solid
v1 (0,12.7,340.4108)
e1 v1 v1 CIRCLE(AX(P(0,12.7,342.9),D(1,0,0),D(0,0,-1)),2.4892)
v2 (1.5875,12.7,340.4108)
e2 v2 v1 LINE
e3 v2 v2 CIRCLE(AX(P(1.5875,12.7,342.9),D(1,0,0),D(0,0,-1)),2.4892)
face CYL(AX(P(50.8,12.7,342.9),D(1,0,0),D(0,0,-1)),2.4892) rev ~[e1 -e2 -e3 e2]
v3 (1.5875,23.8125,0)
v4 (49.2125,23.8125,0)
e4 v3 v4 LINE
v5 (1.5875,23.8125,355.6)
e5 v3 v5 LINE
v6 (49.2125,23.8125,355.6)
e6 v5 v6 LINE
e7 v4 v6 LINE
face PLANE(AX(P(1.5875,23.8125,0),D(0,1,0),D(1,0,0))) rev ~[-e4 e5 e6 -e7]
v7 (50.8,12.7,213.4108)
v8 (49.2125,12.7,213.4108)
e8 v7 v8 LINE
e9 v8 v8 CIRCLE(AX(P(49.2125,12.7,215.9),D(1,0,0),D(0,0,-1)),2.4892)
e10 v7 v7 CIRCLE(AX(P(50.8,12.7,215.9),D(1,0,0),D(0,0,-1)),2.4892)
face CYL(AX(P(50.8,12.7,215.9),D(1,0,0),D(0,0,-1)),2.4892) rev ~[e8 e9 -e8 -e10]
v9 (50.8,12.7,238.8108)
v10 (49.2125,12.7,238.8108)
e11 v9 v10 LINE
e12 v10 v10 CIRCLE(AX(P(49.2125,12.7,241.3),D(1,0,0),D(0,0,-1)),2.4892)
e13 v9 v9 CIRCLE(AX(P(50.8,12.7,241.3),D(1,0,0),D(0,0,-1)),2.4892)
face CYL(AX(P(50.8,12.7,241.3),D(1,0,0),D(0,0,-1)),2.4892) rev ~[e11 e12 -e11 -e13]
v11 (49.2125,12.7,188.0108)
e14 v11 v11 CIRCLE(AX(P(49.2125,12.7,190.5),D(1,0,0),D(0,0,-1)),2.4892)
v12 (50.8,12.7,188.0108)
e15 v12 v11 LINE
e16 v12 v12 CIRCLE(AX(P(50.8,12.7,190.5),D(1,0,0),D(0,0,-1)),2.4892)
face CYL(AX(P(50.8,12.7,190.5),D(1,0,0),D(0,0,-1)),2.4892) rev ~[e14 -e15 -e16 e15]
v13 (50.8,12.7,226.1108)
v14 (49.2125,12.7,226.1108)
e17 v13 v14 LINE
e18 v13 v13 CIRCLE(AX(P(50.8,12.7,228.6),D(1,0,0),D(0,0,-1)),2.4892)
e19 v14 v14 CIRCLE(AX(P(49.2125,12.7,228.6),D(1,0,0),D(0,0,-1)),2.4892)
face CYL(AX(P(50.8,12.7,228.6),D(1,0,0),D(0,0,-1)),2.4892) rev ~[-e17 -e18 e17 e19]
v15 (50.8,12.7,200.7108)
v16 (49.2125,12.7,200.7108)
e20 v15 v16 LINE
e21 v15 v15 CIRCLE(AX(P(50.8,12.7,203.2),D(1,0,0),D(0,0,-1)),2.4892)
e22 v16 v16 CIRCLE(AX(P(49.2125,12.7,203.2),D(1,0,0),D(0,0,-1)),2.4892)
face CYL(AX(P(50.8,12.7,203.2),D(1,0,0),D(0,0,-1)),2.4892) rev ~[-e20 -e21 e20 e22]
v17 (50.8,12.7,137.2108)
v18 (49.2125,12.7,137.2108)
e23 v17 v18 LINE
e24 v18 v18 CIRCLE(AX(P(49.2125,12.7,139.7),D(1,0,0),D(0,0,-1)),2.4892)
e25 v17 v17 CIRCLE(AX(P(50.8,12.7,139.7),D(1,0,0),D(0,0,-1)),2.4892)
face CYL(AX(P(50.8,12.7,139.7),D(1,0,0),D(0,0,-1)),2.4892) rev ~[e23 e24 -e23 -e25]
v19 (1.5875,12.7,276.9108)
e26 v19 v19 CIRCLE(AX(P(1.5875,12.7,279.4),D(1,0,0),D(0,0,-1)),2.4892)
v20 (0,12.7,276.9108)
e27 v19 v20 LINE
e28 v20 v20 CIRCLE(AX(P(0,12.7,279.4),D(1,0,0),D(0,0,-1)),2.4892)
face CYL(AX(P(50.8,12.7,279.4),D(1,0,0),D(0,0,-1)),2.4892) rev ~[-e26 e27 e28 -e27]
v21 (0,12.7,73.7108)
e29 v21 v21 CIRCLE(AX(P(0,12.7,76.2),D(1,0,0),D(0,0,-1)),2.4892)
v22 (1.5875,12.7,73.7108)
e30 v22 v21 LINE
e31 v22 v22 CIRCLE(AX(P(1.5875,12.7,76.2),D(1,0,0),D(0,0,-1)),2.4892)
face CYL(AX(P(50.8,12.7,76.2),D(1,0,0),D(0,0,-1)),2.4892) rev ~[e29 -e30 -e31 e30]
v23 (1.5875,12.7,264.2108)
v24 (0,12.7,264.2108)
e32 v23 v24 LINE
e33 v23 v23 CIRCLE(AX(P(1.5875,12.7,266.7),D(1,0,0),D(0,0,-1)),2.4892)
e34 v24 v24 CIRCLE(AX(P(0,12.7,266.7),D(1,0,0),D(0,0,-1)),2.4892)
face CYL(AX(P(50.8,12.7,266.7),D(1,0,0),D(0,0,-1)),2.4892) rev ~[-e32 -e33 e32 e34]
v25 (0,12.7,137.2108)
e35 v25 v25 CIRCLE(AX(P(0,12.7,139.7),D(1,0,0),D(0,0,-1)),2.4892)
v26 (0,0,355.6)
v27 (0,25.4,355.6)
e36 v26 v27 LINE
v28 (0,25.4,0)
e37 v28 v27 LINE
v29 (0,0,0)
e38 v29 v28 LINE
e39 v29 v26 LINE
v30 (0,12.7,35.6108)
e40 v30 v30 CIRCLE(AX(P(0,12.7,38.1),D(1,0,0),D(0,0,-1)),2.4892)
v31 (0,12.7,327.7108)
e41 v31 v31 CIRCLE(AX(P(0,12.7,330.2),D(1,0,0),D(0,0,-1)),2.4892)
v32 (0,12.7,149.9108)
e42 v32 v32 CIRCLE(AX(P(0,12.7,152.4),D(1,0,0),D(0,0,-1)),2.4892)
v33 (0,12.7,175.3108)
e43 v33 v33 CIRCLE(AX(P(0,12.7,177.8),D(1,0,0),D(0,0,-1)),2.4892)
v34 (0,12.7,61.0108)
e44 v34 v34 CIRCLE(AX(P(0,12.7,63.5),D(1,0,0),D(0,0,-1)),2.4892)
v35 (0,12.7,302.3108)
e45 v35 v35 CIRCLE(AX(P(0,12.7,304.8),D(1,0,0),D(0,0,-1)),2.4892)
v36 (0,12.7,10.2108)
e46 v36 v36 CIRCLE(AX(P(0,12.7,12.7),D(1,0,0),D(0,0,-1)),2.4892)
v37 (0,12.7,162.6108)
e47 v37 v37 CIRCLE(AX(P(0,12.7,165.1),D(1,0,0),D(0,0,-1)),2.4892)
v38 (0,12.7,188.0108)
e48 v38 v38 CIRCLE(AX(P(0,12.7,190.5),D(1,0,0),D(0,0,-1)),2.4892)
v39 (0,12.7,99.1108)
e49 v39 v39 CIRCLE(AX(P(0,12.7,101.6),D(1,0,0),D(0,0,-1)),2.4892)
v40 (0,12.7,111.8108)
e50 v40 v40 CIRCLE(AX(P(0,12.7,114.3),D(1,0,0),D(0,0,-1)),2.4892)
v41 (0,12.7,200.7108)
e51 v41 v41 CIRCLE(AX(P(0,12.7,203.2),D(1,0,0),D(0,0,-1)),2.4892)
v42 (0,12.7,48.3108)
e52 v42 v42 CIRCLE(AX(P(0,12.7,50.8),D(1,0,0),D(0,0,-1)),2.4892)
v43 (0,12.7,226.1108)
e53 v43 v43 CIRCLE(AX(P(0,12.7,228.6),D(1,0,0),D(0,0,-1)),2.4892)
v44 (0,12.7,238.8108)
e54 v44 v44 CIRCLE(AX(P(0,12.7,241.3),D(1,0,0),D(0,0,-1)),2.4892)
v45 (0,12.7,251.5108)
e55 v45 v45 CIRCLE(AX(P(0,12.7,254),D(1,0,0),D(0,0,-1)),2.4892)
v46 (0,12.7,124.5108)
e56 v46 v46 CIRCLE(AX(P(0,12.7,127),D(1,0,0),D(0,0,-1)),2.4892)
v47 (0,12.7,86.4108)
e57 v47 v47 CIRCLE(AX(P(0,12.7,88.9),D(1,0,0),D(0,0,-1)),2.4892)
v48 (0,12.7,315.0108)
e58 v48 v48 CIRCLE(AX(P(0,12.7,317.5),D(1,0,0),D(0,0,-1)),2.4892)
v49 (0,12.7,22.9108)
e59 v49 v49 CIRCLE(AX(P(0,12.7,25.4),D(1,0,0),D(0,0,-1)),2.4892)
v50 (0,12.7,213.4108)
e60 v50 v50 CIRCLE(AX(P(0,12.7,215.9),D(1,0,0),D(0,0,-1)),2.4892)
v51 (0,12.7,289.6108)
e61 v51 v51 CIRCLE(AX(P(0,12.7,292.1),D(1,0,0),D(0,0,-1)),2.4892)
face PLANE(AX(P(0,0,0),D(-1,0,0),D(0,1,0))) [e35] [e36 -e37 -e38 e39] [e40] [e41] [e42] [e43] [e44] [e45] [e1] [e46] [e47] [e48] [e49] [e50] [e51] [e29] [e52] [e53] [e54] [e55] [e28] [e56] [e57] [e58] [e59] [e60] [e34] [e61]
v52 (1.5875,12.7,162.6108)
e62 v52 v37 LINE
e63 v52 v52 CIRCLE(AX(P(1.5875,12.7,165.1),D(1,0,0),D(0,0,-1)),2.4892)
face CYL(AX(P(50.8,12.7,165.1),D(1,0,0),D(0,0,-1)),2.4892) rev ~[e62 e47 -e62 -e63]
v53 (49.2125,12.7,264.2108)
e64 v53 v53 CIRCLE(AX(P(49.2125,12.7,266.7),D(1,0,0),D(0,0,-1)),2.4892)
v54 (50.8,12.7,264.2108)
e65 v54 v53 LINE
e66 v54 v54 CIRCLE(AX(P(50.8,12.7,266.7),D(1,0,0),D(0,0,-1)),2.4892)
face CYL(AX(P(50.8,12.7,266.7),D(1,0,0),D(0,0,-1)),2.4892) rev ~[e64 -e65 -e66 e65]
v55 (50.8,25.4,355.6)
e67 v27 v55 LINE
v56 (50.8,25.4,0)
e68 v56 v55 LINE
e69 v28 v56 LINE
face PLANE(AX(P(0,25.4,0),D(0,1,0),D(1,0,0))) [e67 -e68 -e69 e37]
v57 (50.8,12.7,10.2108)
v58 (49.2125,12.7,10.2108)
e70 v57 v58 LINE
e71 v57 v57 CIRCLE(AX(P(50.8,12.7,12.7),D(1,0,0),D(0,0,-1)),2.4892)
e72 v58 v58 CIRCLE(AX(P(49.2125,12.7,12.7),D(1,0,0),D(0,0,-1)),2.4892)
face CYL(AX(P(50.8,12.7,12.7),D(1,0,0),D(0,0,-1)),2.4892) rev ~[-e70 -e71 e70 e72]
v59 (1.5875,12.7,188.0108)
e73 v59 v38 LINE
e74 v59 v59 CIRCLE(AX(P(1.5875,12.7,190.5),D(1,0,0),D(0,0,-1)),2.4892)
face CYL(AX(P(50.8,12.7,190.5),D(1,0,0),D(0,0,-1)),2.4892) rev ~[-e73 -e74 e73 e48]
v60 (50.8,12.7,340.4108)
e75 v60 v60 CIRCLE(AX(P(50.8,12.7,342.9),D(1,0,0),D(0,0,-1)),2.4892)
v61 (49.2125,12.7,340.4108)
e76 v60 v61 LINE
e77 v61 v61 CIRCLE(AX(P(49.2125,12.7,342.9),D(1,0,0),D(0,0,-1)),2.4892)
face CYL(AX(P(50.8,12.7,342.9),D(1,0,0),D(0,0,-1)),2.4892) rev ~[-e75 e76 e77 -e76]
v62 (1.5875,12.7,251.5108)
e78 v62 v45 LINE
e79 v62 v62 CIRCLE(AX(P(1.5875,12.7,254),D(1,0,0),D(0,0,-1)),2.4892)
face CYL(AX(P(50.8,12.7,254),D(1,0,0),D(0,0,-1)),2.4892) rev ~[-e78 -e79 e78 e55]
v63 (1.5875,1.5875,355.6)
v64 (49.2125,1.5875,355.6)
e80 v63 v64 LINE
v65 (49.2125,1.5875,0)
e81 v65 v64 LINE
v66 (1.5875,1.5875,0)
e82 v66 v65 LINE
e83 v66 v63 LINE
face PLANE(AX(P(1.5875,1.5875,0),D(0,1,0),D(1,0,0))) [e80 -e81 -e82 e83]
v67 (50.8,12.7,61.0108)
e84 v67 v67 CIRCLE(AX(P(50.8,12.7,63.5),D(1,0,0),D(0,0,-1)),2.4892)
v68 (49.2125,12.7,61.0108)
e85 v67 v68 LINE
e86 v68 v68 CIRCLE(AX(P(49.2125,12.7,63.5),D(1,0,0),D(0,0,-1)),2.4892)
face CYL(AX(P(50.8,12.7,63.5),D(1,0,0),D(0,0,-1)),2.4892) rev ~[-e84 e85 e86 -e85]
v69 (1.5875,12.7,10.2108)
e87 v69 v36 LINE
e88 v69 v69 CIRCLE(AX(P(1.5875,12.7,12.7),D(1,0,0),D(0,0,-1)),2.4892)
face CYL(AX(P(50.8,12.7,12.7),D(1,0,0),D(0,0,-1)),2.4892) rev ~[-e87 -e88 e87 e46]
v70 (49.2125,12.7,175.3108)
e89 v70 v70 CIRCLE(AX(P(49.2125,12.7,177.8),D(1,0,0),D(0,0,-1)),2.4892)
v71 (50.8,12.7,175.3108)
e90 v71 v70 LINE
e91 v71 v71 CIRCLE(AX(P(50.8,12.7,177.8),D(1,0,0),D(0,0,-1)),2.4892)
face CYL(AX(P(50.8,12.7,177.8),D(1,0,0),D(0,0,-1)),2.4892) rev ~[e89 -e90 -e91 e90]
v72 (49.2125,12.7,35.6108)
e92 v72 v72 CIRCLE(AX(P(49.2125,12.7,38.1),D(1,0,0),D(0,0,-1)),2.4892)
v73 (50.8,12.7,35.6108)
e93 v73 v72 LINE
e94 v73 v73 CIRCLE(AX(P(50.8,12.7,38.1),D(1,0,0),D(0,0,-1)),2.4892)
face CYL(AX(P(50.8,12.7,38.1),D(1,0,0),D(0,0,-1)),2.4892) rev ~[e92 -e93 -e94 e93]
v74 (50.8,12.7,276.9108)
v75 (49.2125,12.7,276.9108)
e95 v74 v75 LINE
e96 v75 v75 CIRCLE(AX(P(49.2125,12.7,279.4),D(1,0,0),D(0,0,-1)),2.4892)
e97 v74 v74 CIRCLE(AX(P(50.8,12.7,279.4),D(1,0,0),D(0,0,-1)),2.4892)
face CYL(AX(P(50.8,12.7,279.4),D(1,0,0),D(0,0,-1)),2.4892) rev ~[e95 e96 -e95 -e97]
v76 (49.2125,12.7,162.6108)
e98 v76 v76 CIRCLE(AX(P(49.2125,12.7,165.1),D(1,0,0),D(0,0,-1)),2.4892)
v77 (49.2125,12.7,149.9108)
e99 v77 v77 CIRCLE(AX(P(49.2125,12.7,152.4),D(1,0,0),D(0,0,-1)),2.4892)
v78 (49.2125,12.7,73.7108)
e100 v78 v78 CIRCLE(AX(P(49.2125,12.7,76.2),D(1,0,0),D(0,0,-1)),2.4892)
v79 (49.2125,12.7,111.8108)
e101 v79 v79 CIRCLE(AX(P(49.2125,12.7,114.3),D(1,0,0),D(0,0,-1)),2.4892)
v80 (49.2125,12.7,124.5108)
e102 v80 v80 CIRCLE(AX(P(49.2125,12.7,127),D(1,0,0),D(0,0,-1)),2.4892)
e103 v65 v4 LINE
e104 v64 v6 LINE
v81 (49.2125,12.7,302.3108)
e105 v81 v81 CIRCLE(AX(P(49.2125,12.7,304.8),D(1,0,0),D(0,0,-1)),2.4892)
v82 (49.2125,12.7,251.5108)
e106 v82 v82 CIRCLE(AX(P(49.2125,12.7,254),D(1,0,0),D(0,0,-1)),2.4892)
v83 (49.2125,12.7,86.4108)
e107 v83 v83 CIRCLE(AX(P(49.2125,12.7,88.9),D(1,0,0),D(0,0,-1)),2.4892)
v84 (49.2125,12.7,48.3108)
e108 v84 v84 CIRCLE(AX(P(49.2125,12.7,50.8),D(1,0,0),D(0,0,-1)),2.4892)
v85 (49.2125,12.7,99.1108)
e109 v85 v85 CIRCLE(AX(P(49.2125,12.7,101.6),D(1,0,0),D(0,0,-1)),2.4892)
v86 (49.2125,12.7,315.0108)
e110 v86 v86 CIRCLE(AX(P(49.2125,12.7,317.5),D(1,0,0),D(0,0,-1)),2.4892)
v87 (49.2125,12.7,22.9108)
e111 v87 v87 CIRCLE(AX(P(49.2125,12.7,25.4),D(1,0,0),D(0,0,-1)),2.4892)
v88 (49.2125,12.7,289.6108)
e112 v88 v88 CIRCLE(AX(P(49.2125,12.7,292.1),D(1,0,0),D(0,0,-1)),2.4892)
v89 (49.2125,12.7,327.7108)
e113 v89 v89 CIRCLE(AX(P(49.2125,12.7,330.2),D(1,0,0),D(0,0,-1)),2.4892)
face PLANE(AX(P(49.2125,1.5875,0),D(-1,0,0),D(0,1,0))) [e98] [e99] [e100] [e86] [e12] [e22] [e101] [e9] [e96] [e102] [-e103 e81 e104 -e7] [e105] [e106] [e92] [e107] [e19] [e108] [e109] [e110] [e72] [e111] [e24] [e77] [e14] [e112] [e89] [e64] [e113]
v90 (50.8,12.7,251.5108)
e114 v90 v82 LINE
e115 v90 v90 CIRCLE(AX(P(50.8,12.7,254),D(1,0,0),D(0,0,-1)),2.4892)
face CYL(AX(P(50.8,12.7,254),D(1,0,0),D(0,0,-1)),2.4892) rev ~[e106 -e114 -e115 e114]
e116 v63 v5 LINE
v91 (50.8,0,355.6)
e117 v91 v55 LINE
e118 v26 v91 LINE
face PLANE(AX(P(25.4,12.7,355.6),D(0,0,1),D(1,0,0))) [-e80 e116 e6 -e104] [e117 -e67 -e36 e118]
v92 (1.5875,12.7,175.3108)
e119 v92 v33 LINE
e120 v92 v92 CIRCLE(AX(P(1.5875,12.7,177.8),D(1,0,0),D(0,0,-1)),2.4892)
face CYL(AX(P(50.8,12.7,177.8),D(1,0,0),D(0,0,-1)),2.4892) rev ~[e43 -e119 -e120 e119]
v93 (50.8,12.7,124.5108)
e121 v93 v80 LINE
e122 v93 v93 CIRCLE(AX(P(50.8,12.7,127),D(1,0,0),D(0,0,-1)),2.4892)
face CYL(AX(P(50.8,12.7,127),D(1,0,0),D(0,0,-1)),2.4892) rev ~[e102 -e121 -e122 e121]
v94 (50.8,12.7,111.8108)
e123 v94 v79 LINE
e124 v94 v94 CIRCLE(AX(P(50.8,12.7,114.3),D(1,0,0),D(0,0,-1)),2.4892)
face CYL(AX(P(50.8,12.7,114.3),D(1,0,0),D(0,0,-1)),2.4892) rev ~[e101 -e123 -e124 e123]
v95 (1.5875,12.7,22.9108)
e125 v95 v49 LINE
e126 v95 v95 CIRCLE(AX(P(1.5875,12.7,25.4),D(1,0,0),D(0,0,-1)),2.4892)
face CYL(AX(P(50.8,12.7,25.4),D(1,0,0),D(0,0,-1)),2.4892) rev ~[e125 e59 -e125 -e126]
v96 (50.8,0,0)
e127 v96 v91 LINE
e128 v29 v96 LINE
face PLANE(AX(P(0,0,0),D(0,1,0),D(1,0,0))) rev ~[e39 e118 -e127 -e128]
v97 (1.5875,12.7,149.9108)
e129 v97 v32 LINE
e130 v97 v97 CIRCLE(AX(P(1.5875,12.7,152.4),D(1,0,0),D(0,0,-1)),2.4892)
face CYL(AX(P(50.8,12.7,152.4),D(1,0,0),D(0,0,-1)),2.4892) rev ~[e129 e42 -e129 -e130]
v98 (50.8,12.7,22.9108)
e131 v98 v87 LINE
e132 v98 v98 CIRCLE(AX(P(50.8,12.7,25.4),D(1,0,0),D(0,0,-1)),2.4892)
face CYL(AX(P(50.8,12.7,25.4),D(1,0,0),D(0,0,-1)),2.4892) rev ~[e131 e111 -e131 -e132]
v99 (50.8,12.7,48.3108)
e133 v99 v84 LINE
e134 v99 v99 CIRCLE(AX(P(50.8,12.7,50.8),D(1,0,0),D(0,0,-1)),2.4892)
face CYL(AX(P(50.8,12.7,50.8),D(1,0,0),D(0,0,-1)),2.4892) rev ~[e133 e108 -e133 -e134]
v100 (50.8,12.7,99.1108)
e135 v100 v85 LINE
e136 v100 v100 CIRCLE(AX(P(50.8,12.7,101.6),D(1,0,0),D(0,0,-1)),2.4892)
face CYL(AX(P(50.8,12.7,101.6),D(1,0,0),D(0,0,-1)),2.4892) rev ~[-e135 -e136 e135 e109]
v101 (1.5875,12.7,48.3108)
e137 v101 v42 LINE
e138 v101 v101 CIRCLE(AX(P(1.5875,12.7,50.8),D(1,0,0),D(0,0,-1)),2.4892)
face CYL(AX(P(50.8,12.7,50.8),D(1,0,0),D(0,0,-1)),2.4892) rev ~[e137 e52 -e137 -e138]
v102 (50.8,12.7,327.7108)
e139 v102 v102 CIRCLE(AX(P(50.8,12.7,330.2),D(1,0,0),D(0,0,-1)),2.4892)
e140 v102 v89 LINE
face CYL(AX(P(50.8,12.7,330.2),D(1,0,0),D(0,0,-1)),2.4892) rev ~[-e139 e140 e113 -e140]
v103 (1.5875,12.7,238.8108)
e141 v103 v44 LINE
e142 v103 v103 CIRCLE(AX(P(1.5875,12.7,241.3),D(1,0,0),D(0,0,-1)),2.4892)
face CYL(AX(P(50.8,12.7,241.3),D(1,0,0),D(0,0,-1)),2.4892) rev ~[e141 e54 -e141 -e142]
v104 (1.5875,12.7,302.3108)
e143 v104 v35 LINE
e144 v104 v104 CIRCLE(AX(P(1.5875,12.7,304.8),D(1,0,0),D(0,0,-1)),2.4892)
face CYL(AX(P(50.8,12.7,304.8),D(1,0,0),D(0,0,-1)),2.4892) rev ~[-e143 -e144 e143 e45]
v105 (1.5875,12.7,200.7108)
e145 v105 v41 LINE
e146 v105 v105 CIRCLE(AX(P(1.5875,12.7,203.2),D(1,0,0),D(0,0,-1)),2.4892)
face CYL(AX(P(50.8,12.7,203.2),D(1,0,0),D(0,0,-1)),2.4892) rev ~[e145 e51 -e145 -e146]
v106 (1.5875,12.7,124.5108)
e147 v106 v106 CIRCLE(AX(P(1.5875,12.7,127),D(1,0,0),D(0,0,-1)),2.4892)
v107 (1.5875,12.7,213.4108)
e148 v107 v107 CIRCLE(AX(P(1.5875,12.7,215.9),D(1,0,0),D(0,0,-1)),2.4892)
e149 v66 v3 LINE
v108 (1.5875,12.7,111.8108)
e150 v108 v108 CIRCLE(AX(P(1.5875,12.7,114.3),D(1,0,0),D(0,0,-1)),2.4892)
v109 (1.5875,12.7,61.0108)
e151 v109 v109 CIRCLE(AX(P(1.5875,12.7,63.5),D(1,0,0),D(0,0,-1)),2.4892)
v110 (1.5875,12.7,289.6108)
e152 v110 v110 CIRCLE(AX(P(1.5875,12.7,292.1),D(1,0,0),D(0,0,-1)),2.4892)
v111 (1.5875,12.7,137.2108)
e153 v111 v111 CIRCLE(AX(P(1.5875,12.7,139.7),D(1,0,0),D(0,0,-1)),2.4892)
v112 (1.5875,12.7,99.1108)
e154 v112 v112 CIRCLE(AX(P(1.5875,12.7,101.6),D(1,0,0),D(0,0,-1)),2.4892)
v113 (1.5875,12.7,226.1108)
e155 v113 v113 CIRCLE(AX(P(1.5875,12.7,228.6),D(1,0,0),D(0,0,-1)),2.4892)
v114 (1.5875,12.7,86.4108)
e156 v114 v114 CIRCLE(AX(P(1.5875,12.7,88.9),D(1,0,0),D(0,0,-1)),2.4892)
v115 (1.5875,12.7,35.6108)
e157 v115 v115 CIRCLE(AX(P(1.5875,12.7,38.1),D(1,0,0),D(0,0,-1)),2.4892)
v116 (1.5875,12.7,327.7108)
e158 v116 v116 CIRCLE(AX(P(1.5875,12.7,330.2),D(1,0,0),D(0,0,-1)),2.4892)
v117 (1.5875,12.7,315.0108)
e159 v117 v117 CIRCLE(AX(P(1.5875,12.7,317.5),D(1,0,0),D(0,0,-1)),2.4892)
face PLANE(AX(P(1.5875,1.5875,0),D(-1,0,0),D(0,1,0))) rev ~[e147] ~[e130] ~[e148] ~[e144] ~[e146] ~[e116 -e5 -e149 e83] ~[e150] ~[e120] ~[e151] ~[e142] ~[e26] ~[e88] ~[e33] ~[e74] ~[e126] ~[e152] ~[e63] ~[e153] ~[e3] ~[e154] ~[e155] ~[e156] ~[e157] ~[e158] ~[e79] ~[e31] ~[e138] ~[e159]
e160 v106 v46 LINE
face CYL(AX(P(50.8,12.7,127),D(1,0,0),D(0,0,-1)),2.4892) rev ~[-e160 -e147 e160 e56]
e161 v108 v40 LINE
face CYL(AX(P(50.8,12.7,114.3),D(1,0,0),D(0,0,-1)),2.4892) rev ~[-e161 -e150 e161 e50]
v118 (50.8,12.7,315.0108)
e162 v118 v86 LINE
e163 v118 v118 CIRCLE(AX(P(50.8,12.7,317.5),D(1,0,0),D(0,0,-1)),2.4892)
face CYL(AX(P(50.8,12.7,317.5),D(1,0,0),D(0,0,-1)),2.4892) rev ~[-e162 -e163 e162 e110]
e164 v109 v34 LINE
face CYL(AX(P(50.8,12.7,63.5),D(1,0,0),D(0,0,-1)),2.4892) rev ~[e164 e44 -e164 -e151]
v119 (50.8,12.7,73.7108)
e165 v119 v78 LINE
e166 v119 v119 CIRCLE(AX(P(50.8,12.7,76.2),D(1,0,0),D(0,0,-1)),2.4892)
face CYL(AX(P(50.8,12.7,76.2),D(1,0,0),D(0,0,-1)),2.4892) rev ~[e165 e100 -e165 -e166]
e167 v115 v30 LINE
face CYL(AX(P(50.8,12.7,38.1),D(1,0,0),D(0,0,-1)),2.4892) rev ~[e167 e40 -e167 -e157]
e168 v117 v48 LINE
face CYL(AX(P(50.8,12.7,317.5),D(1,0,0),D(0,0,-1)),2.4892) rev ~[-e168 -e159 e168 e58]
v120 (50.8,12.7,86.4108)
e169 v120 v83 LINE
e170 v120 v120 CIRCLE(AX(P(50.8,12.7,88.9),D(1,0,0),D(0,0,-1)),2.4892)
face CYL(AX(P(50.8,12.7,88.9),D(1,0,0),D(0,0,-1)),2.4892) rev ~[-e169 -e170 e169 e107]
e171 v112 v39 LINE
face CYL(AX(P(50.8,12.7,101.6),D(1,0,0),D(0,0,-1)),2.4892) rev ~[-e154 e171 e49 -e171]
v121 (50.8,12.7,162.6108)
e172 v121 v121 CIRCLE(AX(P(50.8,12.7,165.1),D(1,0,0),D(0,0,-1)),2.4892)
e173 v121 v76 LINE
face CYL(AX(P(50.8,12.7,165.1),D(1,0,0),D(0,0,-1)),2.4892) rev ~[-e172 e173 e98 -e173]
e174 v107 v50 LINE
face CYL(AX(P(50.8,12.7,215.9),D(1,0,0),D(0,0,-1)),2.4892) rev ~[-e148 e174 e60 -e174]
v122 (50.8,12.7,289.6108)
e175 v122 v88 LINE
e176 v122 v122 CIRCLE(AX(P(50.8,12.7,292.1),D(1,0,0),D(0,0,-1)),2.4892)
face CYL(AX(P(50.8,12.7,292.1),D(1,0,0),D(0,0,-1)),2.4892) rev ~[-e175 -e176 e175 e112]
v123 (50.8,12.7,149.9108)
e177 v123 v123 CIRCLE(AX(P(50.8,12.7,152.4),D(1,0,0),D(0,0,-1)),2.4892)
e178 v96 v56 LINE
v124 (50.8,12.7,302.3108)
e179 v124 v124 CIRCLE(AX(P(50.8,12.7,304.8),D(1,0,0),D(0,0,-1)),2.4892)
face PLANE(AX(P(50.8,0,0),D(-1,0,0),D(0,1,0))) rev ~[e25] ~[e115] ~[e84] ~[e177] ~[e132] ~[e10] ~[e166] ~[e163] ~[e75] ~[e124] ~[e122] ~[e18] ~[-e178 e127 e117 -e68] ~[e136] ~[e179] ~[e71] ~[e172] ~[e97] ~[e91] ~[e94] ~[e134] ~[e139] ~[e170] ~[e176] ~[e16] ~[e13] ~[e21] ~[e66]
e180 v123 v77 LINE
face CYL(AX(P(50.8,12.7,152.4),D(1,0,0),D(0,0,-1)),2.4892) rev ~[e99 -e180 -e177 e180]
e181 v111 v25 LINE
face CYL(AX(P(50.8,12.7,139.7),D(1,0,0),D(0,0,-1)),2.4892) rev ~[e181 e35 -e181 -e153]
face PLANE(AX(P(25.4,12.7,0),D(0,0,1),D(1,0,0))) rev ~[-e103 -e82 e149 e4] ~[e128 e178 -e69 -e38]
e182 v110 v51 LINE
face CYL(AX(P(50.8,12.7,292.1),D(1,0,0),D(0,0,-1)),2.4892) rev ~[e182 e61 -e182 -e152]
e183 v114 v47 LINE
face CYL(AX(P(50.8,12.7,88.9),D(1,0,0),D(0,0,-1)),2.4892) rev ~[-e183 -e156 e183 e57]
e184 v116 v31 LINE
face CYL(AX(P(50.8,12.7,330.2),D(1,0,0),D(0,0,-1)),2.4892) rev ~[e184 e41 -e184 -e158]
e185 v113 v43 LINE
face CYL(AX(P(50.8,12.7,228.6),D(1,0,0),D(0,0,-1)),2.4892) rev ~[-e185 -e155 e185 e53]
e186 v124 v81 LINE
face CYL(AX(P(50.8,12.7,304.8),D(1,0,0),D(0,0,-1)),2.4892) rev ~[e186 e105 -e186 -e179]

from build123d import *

# Parameters (mm, degrees)
SKETCH1_W           = 50.8
SKETCH1_H           = 25.4
SKETCH1_W_2         = 47.625
SKETCH1_H_2         = 22.225
BOSS_EXTRUDE1_DEPTH = 355.6
SKETCH2_R           = 2.4892
CUT_EXTRUDE1_DEPTH  = 51.8


with BuildPart() as part:
    # Sketch1 → Boss-Extrude1 (new body)
    with BuildSketch(Plane.XY):
        with Locations((25.4, 12.7)):
            Rectangle(SKETCH1_W, SKETCH1_H)
        with Locations((25.4, 12.7)):
            Rectangle(SKETCH1_W_2, SKETCH1_H_2, mode=Mode.SUBTRACT)
    extrude(amount=BOSS_EXTRUDE1_DEPTH)

    # Sketch2 → Cut-Extrude1 (cut, through all)
    with BuildSketch(Plane(origin=(50.8, 0, 0), x_dir=(0, 0, -1), z_dir=(1, 0, 0))):
        with Locations((-342.9, 12.7)):
            Circle(SKETCH2_R)
        with Locations((-330.2, 12.7)):
            Circle(SKETCH2_R)
        with Locations((-317.5, 12.7)):
            Circle(SKETCH2_R)
        with Locations((-304.8, 12.7)):
            Circle(SKETCH2_R)
        with Locations((-292.1, 12.7)):
            Circle(SKETCH2_R)
        with Locations((-279.4, 12.7)):
            Circle(SKETCH2_R)
        with Locations((-266.7, 12.7)):
            Circle(SKETCH2_R)
        with Locations((-254, 12.7)):
            Circle(SKETCH2_R)
        with Locations((-241.3, 12.7)):
            Circle(SKETCH2_R)
        with Locations((-228.6, 12.7)):
            Circle(SKETCH2_R)
        with Locations((-215.9, 12.7)):
            Circle(SKETCH2_R)
        with Locations((-203.2, 12.7)):
            Circle(SKETCH2_R)
        with Locations((-190.5, 12.7)):
            Circle(SKETCH2_R)
        with Locations((-177.8, 12.7)):
            Circle(SKETCH2_R)
        with Locations((-165.1, 12.7)):
            Circle(SKETCH2_R)
        with Locations((-152.4, 12.7)):
            Circle(SKETCH2_R)
        with Locations((-139.7, 12.7)):
            Circle(SKETCH2_R)
        with Locations((-127, 12.7)):
            Circle(SKETCH2_R)
        with Locations((-114.3, 12.7)):
            Circle(SKETCH2_R)
        with Locations((-101.6, 12.7)):
            Circle(SKETCH2_R)
        with Locations((-88.9, 12.7)):
            Circle(SKETCH2_R)
        with Locations((-76.2, 12.7)):
            Circle(SKETCH2_R)
        with Locations((-63.5, 12.7)):
            Circle(SKETCH2_R)
        with Locations((-50.8, 12.7)):
            Circle(SKETCH2_R)
        with Locations((-38.1, 12.7)):
            Circle(SKETCH2_R)
        with Locations((-25.4, 12.7)):
            Circle(SKETCH2_R)
        with Locations((-12.7, 12.7)):
            Circle(SKETCH2_R)
    extrude(amount=-CUT_EXTRUDE1_DEPTH, mode=Mode.SUBTRACT)


solid = part.part
